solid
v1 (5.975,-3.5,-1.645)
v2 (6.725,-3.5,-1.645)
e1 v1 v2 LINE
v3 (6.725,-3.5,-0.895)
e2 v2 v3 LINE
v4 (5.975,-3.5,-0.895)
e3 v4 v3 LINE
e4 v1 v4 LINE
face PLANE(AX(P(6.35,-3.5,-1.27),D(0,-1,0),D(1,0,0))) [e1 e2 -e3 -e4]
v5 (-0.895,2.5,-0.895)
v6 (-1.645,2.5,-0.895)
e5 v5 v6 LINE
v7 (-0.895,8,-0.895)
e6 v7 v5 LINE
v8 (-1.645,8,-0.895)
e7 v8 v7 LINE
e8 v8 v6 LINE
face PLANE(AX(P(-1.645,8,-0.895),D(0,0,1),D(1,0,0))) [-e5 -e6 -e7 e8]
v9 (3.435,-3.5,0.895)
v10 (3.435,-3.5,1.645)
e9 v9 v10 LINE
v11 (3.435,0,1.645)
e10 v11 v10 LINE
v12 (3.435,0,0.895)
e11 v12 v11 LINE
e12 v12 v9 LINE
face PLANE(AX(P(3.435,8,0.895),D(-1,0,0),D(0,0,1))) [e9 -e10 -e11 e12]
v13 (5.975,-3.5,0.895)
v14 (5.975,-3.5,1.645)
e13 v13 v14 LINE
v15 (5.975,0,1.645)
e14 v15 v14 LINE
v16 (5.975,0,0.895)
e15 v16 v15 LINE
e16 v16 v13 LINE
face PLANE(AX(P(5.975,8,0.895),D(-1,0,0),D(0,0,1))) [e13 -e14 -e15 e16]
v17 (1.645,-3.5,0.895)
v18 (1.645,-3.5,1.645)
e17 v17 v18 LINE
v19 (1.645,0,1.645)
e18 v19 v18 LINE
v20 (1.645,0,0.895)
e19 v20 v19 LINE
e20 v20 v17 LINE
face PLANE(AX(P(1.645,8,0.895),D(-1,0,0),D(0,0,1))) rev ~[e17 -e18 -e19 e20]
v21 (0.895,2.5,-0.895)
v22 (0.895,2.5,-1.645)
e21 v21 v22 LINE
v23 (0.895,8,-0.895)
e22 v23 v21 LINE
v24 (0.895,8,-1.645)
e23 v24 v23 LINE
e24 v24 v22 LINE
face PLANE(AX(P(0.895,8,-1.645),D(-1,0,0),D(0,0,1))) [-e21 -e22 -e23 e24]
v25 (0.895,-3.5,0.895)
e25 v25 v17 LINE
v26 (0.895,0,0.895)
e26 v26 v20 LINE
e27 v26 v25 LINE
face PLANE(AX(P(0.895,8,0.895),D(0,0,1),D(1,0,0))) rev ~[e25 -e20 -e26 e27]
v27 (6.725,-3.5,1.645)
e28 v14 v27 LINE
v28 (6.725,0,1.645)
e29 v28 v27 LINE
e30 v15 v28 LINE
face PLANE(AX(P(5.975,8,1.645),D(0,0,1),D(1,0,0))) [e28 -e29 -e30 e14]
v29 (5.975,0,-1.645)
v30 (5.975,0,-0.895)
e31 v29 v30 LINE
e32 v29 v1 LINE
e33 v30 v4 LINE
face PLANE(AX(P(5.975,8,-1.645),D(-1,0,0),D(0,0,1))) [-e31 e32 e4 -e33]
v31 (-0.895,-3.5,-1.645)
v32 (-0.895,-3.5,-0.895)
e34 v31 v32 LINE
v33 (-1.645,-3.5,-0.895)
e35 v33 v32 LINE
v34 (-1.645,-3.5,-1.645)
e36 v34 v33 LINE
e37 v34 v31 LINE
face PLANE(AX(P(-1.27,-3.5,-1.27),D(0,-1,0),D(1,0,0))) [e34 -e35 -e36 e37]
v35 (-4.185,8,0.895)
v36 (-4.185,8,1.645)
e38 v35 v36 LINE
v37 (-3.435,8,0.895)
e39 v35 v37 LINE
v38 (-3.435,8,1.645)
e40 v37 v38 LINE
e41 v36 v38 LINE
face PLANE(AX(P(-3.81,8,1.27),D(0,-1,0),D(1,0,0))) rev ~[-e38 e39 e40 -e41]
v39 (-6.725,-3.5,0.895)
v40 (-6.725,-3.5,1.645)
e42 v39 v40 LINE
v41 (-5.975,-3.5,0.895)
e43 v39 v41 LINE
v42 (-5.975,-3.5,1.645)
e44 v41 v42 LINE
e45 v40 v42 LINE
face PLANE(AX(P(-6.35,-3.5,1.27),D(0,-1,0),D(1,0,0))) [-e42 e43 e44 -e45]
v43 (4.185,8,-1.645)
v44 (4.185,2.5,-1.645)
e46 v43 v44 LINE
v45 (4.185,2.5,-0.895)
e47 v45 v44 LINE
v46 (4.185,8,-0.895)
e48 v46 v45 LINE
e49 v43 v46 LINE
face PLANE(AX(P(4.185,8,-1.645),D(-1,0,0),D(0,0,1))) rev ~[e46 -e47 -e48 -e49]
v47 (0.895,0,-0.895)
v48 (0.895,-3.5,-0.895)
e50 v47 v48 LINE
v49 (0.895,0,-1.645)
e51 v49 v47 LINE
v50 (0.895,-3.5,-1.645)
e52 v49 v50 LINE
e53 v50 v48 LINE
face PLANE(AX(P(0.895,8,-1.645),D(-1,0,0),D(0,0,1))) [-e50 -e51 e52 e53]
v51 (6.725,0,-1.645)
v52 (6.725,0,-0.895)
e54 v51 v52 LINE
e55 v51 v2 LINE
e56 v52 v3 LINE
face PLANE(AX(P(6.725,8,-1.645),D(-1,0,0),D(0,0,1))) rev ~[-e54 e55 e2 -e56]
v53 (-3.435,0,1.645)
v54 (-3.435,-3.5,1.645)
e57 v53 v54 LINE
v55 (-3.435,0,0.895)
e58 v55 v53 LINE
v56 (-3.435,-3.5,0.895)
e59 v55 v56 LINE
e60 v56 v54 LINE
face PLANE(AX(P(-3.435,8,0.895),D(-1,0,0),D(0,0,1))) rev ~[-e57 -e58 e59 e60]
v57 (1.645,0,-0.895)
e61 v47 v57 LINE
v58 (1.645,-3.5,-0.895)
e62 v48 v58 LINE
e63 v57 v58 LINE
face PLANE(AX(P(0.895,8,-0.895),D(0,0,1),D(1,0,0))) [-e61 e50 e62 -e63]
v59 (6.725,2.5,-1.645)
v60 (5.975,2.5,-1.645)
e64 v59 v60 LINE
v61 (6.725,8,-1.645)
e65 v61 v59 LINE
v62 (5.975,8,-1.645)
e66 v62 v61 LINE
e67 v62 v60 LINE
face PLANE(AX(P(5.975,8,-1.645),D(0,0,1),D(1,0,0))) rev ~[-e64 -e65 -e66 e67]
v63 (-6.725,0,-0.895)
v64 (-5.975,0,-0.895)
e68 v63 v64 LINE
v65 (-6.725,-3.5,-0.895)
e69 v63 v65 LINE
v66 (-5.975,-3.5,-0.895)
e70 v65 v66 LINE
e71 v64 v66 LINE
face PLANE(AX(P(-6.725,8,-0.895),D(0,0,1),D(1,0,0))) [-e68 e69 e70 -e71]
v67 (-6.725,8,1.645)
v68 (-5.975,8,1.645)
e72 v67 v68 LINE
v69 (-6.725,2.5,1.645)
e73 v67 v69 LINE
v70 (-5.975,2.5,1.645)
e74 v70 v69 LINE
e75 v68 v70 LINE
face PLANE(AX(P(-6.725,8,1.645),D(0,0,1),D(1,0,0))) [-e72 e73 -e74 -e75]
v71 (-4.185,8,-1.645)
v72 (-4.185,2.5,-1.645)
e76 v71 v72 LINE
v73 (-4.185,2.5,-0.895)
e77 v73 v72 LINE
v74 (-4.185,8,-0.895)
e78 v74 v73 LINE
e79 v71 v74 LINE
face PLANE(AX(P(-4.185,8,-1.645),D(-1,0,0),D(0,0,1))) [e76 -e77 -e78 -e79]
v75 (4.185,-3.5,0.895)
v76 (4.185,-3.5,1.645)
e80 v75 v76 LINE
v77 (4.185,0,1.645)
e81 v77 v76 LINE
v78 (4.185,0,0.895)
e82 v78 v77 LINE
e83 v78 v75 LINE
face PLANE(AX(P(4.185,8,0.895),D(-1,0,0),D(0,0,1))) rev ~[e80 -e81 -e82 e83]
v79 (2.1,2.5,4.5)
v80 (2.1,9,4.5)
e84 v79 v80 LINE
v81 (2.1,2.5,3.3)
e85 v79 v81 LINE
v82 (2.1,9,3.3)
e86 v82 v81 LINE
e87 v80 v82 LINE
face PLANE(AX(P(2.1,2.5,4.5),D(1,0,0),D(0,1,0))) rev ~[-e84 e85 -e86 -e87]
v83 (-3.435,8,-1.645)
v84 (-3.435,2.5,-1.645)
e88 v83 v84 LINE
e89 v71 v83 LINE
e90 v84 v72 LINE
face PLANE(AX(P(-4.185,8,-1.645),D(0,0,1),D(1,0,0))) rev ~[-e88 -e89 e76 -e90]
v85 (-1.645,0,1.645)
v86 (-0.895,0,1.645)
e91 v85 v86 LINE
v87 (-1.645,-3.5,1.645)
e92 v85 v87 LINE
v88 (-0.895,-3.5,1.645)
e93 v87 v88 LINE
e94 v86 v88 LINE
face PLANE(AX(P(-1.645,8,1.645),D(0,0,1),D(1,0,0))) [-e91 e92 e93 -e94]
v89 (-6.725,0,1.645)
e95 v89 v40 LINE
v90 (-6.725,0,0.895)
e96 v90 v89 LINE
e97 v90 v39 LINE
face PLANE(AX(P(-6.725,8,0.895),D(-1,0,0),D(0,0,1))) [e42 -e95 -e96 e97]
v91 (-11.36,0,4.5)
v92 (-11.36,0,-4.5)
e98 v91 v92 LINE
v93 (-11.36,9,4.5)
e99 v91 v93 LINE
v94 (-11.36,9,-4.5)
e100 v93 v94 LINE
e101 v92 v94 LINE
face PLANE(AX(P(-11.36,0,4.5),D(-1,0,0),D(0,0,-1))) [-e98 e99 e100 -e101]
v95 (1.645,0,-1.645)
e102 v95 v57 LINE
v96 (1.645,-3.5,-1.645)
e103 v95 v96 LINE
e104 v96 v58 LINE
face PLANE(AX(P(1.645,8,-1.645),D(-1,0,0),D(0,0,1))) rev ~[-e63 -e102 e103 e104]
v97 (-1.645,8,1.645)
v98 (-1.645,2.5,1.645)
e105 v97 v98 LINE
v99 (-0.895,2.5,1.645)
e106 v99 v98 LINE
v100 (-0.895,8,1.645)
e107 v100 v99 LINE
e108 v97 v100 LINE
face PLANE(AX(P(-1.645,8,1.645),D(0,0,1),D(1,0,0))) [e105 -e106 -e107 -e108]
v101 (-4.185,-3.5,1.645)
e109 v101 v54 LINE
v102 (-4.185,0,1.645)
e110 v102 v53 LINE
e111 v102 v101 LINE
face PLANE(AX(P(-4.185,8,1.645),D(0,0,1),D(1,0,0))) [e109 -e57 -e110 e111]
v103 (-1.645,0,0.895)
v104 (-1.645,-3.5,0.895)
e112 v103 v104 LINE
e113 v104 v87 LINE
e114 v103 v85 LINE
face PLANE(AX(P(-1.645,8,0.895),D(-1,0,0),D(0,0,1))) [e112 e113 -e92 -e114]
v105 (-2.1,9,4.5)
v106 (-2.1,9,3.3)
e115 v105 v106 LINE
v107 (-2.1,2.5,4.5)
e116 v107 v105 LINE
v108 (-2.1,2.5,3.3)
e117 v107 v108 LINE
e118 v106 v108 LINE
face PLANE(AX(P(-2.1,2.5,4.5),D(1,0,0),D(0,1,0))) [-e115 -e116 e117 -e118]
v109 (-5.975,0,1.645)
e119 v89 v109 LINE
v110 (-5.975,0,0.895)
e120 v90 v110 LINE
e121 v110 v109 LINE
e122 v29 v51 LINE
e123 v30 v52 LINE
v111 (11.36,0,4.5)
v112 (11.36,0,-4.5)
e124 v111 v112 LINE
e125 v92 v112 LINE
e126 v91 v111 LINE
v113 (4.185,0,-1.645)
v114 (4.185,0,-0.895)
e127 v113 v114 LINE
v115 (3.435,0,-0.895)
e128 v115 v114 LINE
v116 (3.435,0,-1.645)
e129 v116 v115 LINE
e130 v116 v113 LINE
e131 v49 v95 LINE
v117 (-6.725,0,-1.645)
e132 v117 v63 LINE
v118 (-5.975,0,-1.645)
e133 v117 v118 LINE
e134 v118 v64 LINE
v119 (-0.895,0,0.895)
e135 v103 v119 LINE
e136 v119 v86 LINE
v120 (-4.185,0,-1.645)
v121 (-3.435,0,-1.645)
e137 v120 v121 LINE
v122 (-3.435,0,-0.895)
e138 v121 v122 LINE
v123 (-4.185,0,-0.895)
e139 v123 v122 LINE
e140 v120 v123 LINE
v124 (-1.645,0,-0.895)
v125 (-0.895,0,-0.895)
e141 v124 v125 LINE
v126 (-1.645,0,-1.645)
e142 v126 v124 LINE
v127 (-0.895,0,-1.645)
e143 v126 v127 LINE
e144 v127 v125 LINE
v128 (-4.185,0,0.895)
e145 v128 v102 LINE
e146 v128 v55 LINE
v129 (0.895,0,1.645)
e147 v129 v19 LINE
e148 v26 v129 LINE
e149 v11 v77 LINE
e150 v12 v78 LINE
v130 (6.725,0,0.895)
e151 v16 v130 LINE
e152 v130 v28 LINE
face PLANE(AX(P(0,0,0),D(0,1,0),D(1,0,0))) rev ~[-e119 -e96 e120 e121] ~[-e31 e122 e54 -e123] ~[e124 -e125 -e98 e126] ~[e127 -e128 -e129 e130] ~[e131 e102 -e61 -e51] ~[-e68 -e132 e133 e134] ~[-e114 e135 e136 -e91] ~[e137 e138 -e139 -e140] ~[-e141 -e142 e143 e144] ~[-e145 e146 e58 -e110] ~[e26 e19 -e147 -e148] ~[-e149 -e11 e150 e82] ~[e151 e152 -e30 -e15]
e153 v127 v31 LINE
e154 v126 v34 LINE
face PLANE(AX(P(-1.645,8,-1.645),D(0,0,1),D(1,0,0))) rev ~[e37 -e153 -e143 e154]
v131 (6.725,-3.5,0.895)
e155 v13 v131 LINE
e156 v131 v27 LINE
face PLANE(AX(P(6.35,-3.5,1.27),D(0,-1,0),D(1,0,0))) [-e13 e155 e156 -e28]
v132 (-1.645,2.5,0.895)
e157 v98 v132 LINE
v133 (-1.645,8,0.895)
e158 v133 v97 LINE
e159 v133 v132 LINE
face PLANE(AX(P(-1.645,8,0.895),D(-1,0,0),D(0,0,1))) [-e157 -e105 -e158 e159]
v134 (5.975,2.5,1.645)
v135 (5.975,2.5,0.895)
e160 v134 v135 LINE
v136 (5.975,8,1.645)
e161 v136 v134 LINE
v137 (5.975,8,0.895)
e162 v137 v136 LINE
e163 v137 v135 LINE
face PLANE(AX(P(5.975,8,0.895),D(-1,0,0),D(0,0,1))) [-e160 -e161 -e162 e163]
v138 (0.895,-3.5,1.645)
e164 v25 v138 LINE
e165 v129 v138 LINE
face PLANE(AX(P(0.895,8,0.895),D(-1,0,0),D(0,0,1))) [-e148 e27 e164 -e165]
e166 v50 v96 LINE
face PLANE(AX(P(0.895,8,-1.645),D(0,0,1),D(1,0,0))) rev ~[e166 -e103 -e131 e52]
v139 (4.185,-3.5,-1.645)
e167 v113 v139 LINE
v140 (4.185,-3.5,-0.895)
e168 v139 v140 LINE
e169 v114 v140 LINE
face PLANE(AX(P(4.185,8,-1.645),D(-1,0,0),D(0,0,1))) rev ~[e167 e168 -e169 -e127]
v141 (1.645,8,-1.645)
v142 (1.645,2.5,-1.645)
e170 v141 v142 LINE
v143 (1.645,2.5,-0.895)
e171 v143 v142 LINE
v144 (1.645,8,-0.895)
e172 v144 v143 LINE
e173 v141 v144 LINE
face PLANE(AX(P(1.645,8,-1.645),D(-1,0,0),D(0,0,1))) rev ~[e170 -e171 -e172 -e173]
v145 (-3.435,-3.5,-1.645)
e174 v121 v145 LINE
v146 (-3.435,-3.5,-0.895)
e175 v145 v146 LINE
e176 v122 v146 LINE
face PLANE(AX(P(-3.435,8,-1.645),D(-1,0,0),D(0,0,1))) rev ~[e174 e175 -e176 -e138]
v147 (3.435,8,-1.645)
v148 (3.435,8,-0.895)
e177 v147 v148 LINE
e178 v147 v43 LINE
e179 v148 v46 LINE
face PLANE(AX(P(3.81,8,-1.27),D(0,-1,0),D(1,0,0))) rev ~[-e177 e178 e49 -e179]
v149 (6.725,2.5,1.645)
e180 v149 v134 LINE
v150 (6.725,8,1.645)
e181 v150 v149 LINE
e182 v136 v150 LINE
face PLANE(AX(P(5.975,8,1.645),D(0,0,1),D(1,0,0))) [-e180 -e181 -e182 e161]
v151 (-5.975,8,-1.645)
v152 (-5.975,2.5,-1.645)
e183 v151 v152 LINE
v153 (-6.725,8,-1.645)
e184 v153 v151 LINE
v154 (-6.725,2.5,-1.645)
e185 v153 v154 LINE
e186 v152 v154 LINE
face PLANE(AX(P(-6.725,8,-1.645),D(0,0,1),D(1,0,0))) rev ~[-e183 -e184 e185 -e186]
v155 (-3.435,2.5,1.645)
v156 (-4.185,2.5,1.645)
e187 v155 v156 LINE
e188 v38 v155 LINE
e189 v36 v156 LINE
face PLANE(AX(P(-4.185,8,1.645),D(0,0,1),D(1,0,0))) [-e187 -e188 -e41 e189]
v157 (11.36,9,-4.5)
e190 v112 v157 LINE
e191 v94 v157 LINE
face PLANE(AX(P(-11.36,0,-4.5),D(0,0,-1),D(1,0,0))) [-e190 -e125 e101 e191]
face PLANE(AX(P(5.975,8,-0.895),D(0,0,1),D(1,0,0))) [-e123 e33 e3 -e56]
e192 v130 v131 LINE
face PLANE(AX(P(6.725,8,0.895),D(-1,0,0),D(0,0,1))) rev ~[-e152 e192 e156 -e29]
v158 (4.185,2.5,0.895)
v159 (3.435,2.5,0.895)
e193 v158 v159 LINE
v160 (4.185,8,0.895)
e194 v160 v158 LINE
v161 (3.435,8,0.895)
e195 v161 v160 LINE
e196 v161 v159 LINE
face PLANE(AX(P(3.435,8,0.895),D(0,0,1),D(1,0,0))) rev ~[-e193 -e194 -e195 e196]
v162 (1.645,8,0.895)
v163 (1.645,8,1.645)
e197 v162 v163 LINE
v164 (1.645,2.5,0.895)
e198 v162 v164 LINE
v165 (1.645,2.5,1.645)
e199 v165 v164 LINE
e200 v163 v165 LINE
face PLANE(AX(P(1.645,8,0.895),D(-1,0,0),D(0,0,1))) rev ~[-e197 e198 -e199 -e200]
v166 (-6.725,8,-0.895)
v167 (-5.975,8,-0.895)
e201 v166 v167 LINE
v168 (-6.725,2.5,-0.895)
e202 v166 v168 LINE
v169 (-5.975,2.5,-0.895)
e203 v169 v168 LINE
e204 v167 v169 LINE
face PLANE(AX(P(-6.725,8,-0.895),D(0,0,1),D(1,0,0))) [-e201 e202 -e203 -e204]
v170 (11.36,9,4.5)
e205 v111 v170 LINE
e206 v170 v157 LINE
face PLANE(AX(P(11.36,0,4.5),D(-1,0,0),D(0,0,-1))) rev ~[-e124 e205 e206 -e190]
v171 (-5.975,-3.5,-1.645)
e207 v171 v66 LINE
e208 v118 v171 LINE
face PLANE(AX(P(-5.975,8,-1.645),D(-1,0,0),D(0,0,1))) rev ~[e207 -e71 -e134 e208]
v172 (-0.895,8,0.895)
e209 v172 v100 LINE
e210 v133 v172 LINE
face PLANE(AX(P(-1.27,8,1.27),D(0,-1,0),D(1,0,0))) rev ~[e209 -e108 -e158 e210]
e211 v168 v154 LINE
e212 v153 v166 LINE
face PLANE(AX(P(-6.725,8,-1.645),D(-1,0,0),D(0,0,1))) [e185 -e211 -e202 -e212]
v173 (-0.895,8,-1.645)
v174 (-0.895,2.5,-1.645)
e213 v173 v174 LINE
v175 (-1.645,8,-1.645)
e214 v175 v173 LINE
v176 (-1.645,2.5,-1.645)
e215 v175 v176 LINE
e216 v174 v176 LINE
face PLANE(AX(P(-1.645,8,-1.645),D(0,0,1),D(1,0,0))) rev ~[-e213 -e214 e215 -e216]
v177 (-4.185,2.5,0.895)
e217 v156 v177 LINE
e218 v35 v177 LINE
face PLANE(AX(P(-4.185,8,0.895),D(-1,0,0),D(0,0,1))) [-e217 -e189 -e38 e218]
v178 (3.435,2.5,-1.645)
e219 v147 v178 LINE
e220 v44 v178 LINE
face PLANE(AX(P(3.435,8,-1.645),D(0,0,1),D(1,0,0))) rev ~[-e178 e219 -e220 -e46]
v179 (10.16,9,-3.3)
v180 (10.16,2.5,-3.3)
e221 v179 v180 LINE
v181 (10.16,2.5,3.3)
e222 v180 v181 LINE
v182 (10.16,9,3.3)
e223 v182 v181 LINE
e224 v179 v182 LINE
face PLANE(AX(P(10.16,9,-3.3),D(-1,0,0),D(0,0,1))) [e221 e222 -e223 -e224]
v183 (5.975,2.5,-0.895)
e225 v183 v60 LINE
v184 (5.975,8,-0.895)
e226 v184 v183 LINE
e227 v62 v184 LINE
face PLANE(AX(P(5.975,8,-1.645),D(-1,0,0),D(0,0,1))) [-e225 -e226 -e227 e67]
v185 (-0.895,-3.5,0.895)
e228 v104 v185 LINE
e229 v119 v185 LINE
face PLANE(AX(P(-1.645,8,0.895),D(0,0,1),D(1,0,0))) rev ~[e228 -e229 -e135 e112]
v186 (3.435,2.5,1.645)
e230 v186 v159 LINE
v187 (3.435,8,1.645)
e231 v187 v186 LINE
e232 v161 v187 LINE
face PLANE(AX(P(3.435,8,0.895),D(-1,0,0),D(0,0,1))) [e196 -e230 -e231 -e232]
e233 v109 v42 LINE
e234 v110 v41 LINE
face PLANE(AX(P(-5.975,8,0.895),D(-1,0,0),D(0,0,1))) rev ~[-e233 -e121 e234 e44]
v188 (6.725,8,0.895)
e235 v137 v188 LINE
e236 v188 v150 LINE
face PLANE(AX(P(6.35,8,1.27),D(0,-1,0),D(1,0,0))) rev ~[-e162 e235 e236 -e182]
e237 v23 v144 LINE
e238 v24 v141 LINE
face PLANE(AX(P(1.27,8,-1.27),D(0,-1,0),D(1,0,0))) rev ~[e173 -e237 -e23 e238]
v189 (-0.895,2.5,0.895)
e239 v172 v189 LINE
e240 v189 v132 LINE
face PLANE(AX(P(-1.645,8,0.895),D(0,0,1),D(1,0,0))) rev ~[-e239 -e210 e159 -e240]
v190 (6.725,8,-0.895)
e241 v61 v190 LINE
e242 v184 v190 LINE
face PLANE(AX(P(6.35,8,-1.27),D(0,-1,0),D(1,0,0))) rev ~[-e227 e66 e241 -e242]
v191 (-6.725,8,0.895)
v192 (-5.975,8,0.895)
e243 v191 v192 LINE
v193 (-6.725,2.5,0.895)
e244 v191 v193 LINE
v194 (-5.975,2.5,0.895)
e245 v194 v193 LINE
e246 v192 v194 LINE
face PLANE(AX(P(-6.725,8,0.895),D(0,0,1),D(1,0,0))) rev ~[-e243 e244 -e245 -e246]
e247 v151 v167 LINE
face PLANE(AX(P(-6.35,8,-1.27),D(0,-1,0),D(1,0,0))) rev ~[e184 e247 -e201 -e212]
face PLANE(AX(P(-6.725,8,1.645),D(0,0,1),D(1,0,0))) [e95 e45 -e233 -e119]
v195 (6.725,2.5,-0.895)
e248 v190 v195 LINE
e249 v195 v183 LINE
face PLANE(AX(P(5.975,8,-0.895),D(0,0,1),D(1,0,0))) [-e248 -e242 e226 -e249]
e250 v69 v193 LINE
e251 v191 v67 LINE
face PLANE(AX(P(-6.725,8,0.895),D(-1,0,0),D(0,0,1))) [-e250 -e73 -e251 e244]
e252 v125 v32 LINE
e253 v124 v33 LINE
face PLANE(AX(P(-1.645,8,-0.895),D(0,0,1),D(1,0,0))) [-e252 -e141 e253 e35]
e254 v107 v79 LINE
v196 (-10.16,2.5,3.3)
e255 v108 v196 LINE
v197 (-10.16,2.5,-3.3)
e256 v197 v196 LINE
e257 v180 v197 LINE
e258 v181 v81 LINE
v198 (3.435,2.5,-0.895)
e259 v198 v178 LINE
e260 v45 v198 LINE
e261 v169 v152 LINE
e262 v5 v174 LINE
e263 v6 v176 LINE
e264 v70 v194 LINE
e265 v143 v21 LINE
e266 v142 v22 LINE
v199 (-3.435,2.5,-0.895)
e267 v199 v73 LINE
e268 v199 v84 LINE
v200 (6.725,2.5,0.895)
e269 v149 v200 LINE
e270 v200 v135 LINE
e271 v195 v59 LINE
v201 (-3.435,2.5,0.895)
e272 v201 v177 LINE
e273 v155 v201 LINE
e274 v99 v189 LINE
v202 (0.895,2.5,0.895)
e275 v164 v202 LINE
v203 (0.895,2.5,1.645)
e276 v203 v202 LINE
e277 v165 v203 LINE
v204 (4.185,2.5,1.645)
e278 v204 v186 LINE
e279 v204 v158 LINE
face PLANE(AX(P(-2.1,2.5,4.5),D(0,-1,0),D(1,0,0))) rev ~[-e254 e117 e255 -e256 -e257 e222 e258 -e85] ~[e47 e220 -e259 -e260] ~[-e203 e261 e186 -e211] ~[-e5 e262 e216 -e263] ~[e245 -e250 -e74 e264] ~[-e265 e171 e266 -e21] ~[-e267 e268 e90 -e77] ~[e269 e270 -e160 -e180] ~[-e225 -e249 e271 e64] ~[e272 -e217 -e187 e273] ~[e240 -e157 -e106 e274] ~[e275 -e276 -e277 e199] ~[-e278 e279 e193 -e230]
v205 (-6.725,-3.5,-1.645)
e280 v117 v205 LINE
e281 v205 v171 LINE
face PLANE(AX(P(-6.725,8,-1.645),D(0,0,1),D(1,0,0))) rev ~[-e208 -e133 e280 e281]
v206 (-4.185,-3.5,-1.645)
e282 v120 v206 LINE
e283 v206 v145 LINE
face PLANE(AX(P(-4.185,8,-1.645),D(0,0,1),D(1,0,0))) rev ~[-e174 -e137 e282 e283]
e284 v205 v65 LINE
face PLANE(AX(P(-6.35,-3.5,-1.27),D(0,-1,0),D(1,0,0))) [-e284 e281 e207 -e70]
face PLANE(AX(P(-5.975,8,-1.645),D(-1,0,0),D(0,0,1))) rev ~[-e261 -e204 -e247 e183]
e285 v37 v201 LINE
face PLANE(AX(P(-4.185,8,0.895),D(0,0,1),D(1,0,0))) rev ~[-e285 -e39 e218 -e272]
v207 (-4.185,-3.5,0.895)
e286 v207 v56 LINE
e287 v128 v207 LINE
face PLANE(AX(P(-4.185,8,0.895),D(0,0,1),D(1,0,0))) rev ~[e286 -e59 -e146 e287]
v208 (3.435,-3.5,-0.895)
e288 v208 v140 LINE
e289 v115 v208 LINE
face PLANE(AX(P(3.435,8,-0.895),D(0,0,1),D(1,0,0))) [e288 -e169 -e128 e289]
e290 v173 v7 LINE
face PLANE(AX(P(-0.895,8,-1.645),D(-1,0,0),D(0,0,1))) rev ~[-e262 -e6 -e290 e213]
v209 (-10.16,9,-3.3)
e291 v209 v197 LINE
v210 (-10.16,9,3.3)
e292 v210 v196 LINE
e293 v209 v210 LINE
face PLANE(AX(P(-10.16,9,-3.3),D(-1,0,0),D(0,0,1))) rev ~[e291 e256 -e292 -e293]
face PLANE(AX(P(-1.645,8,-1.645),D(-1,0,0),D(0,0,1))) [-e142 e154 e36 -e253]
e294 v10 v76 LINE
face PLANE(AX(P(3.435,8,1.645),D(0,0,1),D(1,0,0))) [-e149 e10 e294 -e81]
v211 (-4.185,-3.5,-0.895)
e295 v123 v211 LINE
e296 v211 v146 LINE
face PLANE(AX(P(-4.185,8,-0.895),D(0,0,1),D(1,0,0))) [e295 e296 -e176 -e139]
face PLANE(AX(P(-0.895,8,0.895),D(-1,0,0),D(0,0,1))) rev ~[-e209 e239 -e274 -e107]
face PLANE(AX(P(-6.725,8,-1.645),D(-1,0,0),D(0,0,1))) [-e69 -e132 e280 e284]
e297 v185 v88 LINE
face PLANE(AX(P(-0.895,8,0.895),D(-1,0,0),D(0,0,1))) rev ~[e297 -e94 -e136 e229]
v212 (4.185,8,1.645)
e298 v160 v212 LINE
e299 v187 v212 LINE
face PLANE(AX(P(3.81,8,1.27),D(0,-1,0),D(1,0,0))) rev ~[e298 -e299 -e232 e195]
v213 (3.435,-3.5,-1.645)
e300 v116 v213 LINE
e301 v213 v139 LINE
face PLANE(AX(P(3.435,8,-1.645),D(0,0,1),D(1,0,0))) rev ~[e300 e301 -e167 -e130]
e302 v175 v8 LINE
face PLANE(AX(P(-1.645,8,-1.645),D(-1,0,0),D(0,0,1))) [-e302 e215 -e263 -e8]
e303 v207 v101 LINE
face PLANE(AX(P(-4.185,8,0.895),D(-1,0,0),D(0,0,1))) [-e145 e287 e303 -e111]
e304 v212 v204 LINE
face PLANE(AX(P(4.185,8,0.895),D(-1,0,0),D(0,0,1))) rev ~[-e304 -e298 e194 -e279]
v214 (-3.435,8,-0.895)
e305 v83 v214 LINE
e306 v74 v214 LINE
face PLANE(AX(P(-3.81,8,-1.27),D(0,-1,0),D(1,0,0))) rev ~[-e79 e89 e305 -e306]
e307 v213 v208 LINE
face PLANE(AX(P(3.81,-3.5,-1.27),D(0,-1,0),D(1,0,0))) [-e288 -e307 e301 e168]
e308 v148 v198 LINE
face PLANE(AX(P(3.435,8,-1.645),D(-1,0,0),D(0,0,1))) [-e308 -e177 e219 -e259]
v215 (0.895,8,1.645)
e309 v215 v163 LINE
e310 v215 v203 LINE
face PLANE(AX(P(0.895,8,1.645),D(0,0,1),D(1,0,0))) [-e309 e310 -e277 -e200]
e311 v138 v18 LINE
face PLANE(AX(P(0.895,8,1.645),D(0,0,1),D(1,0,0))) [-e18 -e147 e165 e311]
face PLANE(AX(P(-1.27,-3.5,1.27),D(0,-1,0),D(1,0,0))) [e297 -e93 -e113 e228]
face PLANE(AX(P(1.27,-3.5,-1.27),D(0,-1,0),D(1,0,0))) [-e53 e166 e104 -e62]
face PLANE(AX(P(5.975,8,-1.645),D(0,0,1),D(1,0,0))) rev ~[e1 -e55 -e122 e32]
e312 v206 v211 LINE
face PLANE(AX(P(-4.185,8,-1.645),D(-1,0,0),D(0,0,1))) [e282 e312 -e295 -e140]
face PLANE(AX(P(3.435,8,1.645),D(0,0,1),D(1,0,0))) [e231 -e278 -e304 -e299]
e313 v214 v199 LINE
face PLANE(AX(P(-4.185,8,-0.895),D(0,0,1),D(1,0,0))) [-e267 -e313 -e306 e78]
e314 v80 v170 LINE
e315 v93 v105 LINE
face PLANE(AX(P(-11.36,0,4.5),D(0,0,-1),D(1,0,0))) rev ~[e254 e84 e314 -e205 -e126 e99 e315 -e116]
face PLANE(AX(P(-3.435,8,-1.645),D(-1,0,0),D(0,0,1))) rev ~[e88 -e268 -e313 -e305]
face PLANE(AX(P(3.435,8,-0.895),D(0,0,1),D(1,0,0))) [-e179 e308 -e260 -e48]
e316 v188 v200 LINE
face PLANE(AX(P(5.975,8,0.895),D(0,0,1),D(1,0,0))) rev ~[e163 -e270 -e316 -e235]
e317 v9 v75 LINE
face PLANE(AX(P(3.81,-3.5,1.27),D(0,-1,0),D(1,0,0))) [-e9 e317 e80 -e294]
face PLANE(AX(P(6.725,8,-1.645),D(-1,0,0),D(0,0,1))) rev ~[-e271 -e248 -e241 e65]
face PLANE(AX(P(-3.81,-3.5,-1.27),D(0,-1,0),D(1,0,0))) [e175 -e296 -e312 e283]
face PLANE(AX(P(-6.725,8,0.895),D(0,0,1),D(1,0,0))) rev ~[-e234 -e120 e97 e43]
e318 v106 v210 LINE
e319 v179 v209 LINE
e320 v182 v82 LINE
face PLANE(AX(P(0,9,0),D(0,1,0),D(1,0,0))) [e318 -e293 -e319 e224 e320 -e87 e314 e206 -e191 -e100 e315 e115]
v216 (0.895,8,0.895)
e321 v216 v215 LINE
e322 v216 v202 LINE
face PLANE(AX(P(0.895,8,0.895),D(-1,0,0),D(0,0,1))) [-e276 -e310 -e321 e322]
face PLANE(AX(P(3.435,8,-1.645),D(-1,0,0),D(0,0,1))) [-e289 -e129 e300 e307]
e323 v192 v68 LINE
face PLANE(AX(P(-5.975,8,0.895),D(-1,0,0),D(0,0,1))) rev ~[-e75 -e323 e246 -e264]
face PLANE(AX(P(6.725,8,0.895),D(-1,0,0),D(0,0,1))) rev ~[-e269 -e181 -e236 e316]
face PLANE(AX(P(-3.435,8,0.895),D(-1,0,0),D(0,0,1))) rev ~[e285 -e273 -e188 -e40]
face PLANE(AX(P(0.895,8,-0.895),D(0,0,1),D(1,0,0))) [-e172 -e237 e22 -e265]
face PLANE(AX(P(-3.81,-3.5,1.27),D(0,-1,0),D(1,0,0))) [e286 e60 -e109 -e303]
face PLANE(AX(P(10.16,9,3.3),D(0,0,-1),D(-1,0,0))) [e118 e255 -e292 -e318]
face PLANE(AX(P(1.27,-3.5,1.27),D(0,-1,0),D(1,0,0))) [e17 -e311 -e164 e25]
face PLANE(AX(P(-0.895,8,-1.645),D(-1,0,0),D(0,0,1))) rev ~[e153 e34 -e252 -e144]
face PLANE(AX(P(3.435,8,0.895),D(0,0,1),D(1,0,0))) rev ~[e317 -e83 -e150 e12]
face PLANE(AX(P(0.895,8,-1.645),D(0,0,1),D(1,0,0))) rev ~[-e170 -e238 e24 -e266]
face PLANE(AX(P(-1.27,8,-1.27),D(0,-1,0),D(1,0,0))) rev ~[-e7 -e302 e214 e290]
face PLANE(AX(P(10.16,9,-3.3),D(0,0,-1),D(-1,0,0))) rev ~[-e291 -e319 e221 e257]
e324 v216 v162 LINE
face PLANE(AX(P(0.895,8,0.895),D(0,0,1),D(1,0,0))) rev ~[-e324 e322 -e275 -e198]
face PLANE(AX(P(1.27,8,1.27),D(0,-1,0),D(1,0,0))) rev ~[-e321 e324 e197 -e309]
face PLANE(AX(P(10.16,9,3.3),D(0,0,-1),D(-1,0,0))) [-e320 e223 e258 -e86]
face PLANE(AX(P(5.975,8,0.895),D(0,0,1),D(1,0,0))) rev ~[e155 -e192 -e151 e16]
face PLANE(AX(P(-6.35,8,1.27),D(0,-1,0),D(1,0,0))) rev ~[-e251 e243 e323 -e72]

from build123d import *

# Parameters (mm, degrees)
SKETCH_1_W           = 22.72
SKETCH_1_H           = 9
EXTRUDE_1_DEPTH      = 9
SKETCH_2_W           = 20.32
SKETCH_2_H           = 6.6
CUT_EXTRUDE_1_DEPTH  = 6.5
SKETCH_3_W           = 4.2
SKETCH_3_H           = 6.5
CUT_EXTRUDE_2_DEPTH  = 6.5
EXTRUDE_2_DEPTH      = 3.5
EXTRUDE_2_DEPTH_BACK = 8
SKETCH_5_W           = 0.75
SKETCH_5_H           = 0.75


with BuildPart() as part:
    # 草图1 → 拉伸1 (new body)
    with BuildSketch(Plane(origin=(0, 0, 0), x_dir=(1, 0, 0), z_dir=(0, 1, 0))):
        Rectangle(SKETCH_1_W, SKETCH_1_H)
    extrude(amount=EXTRUDE_1_DEPTH)

    # 草图2 → 切除-拉伸1 (cut)
    with BuildSketch(Plane(origin=(0, 9, 0), x_dir=(-1, 0, 0), z_dir=(0, 1, 0))):
        Rectangle(SKETCH_2_W, SKETCH_2_H)
    extrude(amount=-CUT_EXTRUDE_1_DEPTH, mode=Mode.SUBTRACT)

    # 草图3 → 切除-拉伸2 (cut)
    with BuildSketch(Plane.XY.offset(4.5)):
        with Locations((0, 5.75)):
            Rectangle(SKETCH_3_W, SKETCH_3_H)
    extrude(amount=-CUT_EXTRUDE_2_DEPTH, mode=Mode.SUBTRACT)

    # 草图5 → 拉伸2 (add, two sides: drawn at the far end of the back side and taken through both)
    with BuildSketch(Plane.XZ.offset(-EXTRUDE_2_DEPTH_BACK)):
        with Locations((-1.27, 1.27)):
            Rectangle(SKETCH_5_W, SKETCH_5_H)
        with Locations((-3.81, 1.27)):
            Rectangle(SKETCH_5_W, SKETCH_5_H)
        with Locations((-6.35, 1.27)):
            Rectangle(SKETCH_5_W, SKETCH_5_H)
        with Locations((-6.35, -1.27)):
            Rectangle(SKETCH_5_W, SKETCH_5_H)
        with Locations((-3.81, -1.27)):
            Rectangle(SKETCH_5_W, SKETCH_5_H)
        with Locations((-1.27, -1.27)):
            Rectangle(SKETCH_5_W, SKETCH_5_H)
        with Locations((1.27, -1.27)):
            Rectangle(SKETCH_5_W, SKETCH_5_H)
        with Locations((3.81, -1.27)):
            Rectangle(SKETCH_5_W, SKETCH_5_H)
        with Locations((6.35, -1.27)):
            Rectangle(SKETCH_5_W, SKETCH_5_H)
        with Locations((6.35, 1.27)):
            Rectangle(SKETCH_5_W, SKETCH_5_H)
        with Locations((3.81, 1.27)):
            Rectangle(SKETCH_5_W, SKETCH_5_H)
        with Locations((1.27, 1.27)):
            Rectangle(SKETCH_5_W, SKETCH_5_H)
    extrude(amount=EXTRUDE_2_DEPTH + EXTRUDE_2_DEPTH_BACK)


solid = part.part
